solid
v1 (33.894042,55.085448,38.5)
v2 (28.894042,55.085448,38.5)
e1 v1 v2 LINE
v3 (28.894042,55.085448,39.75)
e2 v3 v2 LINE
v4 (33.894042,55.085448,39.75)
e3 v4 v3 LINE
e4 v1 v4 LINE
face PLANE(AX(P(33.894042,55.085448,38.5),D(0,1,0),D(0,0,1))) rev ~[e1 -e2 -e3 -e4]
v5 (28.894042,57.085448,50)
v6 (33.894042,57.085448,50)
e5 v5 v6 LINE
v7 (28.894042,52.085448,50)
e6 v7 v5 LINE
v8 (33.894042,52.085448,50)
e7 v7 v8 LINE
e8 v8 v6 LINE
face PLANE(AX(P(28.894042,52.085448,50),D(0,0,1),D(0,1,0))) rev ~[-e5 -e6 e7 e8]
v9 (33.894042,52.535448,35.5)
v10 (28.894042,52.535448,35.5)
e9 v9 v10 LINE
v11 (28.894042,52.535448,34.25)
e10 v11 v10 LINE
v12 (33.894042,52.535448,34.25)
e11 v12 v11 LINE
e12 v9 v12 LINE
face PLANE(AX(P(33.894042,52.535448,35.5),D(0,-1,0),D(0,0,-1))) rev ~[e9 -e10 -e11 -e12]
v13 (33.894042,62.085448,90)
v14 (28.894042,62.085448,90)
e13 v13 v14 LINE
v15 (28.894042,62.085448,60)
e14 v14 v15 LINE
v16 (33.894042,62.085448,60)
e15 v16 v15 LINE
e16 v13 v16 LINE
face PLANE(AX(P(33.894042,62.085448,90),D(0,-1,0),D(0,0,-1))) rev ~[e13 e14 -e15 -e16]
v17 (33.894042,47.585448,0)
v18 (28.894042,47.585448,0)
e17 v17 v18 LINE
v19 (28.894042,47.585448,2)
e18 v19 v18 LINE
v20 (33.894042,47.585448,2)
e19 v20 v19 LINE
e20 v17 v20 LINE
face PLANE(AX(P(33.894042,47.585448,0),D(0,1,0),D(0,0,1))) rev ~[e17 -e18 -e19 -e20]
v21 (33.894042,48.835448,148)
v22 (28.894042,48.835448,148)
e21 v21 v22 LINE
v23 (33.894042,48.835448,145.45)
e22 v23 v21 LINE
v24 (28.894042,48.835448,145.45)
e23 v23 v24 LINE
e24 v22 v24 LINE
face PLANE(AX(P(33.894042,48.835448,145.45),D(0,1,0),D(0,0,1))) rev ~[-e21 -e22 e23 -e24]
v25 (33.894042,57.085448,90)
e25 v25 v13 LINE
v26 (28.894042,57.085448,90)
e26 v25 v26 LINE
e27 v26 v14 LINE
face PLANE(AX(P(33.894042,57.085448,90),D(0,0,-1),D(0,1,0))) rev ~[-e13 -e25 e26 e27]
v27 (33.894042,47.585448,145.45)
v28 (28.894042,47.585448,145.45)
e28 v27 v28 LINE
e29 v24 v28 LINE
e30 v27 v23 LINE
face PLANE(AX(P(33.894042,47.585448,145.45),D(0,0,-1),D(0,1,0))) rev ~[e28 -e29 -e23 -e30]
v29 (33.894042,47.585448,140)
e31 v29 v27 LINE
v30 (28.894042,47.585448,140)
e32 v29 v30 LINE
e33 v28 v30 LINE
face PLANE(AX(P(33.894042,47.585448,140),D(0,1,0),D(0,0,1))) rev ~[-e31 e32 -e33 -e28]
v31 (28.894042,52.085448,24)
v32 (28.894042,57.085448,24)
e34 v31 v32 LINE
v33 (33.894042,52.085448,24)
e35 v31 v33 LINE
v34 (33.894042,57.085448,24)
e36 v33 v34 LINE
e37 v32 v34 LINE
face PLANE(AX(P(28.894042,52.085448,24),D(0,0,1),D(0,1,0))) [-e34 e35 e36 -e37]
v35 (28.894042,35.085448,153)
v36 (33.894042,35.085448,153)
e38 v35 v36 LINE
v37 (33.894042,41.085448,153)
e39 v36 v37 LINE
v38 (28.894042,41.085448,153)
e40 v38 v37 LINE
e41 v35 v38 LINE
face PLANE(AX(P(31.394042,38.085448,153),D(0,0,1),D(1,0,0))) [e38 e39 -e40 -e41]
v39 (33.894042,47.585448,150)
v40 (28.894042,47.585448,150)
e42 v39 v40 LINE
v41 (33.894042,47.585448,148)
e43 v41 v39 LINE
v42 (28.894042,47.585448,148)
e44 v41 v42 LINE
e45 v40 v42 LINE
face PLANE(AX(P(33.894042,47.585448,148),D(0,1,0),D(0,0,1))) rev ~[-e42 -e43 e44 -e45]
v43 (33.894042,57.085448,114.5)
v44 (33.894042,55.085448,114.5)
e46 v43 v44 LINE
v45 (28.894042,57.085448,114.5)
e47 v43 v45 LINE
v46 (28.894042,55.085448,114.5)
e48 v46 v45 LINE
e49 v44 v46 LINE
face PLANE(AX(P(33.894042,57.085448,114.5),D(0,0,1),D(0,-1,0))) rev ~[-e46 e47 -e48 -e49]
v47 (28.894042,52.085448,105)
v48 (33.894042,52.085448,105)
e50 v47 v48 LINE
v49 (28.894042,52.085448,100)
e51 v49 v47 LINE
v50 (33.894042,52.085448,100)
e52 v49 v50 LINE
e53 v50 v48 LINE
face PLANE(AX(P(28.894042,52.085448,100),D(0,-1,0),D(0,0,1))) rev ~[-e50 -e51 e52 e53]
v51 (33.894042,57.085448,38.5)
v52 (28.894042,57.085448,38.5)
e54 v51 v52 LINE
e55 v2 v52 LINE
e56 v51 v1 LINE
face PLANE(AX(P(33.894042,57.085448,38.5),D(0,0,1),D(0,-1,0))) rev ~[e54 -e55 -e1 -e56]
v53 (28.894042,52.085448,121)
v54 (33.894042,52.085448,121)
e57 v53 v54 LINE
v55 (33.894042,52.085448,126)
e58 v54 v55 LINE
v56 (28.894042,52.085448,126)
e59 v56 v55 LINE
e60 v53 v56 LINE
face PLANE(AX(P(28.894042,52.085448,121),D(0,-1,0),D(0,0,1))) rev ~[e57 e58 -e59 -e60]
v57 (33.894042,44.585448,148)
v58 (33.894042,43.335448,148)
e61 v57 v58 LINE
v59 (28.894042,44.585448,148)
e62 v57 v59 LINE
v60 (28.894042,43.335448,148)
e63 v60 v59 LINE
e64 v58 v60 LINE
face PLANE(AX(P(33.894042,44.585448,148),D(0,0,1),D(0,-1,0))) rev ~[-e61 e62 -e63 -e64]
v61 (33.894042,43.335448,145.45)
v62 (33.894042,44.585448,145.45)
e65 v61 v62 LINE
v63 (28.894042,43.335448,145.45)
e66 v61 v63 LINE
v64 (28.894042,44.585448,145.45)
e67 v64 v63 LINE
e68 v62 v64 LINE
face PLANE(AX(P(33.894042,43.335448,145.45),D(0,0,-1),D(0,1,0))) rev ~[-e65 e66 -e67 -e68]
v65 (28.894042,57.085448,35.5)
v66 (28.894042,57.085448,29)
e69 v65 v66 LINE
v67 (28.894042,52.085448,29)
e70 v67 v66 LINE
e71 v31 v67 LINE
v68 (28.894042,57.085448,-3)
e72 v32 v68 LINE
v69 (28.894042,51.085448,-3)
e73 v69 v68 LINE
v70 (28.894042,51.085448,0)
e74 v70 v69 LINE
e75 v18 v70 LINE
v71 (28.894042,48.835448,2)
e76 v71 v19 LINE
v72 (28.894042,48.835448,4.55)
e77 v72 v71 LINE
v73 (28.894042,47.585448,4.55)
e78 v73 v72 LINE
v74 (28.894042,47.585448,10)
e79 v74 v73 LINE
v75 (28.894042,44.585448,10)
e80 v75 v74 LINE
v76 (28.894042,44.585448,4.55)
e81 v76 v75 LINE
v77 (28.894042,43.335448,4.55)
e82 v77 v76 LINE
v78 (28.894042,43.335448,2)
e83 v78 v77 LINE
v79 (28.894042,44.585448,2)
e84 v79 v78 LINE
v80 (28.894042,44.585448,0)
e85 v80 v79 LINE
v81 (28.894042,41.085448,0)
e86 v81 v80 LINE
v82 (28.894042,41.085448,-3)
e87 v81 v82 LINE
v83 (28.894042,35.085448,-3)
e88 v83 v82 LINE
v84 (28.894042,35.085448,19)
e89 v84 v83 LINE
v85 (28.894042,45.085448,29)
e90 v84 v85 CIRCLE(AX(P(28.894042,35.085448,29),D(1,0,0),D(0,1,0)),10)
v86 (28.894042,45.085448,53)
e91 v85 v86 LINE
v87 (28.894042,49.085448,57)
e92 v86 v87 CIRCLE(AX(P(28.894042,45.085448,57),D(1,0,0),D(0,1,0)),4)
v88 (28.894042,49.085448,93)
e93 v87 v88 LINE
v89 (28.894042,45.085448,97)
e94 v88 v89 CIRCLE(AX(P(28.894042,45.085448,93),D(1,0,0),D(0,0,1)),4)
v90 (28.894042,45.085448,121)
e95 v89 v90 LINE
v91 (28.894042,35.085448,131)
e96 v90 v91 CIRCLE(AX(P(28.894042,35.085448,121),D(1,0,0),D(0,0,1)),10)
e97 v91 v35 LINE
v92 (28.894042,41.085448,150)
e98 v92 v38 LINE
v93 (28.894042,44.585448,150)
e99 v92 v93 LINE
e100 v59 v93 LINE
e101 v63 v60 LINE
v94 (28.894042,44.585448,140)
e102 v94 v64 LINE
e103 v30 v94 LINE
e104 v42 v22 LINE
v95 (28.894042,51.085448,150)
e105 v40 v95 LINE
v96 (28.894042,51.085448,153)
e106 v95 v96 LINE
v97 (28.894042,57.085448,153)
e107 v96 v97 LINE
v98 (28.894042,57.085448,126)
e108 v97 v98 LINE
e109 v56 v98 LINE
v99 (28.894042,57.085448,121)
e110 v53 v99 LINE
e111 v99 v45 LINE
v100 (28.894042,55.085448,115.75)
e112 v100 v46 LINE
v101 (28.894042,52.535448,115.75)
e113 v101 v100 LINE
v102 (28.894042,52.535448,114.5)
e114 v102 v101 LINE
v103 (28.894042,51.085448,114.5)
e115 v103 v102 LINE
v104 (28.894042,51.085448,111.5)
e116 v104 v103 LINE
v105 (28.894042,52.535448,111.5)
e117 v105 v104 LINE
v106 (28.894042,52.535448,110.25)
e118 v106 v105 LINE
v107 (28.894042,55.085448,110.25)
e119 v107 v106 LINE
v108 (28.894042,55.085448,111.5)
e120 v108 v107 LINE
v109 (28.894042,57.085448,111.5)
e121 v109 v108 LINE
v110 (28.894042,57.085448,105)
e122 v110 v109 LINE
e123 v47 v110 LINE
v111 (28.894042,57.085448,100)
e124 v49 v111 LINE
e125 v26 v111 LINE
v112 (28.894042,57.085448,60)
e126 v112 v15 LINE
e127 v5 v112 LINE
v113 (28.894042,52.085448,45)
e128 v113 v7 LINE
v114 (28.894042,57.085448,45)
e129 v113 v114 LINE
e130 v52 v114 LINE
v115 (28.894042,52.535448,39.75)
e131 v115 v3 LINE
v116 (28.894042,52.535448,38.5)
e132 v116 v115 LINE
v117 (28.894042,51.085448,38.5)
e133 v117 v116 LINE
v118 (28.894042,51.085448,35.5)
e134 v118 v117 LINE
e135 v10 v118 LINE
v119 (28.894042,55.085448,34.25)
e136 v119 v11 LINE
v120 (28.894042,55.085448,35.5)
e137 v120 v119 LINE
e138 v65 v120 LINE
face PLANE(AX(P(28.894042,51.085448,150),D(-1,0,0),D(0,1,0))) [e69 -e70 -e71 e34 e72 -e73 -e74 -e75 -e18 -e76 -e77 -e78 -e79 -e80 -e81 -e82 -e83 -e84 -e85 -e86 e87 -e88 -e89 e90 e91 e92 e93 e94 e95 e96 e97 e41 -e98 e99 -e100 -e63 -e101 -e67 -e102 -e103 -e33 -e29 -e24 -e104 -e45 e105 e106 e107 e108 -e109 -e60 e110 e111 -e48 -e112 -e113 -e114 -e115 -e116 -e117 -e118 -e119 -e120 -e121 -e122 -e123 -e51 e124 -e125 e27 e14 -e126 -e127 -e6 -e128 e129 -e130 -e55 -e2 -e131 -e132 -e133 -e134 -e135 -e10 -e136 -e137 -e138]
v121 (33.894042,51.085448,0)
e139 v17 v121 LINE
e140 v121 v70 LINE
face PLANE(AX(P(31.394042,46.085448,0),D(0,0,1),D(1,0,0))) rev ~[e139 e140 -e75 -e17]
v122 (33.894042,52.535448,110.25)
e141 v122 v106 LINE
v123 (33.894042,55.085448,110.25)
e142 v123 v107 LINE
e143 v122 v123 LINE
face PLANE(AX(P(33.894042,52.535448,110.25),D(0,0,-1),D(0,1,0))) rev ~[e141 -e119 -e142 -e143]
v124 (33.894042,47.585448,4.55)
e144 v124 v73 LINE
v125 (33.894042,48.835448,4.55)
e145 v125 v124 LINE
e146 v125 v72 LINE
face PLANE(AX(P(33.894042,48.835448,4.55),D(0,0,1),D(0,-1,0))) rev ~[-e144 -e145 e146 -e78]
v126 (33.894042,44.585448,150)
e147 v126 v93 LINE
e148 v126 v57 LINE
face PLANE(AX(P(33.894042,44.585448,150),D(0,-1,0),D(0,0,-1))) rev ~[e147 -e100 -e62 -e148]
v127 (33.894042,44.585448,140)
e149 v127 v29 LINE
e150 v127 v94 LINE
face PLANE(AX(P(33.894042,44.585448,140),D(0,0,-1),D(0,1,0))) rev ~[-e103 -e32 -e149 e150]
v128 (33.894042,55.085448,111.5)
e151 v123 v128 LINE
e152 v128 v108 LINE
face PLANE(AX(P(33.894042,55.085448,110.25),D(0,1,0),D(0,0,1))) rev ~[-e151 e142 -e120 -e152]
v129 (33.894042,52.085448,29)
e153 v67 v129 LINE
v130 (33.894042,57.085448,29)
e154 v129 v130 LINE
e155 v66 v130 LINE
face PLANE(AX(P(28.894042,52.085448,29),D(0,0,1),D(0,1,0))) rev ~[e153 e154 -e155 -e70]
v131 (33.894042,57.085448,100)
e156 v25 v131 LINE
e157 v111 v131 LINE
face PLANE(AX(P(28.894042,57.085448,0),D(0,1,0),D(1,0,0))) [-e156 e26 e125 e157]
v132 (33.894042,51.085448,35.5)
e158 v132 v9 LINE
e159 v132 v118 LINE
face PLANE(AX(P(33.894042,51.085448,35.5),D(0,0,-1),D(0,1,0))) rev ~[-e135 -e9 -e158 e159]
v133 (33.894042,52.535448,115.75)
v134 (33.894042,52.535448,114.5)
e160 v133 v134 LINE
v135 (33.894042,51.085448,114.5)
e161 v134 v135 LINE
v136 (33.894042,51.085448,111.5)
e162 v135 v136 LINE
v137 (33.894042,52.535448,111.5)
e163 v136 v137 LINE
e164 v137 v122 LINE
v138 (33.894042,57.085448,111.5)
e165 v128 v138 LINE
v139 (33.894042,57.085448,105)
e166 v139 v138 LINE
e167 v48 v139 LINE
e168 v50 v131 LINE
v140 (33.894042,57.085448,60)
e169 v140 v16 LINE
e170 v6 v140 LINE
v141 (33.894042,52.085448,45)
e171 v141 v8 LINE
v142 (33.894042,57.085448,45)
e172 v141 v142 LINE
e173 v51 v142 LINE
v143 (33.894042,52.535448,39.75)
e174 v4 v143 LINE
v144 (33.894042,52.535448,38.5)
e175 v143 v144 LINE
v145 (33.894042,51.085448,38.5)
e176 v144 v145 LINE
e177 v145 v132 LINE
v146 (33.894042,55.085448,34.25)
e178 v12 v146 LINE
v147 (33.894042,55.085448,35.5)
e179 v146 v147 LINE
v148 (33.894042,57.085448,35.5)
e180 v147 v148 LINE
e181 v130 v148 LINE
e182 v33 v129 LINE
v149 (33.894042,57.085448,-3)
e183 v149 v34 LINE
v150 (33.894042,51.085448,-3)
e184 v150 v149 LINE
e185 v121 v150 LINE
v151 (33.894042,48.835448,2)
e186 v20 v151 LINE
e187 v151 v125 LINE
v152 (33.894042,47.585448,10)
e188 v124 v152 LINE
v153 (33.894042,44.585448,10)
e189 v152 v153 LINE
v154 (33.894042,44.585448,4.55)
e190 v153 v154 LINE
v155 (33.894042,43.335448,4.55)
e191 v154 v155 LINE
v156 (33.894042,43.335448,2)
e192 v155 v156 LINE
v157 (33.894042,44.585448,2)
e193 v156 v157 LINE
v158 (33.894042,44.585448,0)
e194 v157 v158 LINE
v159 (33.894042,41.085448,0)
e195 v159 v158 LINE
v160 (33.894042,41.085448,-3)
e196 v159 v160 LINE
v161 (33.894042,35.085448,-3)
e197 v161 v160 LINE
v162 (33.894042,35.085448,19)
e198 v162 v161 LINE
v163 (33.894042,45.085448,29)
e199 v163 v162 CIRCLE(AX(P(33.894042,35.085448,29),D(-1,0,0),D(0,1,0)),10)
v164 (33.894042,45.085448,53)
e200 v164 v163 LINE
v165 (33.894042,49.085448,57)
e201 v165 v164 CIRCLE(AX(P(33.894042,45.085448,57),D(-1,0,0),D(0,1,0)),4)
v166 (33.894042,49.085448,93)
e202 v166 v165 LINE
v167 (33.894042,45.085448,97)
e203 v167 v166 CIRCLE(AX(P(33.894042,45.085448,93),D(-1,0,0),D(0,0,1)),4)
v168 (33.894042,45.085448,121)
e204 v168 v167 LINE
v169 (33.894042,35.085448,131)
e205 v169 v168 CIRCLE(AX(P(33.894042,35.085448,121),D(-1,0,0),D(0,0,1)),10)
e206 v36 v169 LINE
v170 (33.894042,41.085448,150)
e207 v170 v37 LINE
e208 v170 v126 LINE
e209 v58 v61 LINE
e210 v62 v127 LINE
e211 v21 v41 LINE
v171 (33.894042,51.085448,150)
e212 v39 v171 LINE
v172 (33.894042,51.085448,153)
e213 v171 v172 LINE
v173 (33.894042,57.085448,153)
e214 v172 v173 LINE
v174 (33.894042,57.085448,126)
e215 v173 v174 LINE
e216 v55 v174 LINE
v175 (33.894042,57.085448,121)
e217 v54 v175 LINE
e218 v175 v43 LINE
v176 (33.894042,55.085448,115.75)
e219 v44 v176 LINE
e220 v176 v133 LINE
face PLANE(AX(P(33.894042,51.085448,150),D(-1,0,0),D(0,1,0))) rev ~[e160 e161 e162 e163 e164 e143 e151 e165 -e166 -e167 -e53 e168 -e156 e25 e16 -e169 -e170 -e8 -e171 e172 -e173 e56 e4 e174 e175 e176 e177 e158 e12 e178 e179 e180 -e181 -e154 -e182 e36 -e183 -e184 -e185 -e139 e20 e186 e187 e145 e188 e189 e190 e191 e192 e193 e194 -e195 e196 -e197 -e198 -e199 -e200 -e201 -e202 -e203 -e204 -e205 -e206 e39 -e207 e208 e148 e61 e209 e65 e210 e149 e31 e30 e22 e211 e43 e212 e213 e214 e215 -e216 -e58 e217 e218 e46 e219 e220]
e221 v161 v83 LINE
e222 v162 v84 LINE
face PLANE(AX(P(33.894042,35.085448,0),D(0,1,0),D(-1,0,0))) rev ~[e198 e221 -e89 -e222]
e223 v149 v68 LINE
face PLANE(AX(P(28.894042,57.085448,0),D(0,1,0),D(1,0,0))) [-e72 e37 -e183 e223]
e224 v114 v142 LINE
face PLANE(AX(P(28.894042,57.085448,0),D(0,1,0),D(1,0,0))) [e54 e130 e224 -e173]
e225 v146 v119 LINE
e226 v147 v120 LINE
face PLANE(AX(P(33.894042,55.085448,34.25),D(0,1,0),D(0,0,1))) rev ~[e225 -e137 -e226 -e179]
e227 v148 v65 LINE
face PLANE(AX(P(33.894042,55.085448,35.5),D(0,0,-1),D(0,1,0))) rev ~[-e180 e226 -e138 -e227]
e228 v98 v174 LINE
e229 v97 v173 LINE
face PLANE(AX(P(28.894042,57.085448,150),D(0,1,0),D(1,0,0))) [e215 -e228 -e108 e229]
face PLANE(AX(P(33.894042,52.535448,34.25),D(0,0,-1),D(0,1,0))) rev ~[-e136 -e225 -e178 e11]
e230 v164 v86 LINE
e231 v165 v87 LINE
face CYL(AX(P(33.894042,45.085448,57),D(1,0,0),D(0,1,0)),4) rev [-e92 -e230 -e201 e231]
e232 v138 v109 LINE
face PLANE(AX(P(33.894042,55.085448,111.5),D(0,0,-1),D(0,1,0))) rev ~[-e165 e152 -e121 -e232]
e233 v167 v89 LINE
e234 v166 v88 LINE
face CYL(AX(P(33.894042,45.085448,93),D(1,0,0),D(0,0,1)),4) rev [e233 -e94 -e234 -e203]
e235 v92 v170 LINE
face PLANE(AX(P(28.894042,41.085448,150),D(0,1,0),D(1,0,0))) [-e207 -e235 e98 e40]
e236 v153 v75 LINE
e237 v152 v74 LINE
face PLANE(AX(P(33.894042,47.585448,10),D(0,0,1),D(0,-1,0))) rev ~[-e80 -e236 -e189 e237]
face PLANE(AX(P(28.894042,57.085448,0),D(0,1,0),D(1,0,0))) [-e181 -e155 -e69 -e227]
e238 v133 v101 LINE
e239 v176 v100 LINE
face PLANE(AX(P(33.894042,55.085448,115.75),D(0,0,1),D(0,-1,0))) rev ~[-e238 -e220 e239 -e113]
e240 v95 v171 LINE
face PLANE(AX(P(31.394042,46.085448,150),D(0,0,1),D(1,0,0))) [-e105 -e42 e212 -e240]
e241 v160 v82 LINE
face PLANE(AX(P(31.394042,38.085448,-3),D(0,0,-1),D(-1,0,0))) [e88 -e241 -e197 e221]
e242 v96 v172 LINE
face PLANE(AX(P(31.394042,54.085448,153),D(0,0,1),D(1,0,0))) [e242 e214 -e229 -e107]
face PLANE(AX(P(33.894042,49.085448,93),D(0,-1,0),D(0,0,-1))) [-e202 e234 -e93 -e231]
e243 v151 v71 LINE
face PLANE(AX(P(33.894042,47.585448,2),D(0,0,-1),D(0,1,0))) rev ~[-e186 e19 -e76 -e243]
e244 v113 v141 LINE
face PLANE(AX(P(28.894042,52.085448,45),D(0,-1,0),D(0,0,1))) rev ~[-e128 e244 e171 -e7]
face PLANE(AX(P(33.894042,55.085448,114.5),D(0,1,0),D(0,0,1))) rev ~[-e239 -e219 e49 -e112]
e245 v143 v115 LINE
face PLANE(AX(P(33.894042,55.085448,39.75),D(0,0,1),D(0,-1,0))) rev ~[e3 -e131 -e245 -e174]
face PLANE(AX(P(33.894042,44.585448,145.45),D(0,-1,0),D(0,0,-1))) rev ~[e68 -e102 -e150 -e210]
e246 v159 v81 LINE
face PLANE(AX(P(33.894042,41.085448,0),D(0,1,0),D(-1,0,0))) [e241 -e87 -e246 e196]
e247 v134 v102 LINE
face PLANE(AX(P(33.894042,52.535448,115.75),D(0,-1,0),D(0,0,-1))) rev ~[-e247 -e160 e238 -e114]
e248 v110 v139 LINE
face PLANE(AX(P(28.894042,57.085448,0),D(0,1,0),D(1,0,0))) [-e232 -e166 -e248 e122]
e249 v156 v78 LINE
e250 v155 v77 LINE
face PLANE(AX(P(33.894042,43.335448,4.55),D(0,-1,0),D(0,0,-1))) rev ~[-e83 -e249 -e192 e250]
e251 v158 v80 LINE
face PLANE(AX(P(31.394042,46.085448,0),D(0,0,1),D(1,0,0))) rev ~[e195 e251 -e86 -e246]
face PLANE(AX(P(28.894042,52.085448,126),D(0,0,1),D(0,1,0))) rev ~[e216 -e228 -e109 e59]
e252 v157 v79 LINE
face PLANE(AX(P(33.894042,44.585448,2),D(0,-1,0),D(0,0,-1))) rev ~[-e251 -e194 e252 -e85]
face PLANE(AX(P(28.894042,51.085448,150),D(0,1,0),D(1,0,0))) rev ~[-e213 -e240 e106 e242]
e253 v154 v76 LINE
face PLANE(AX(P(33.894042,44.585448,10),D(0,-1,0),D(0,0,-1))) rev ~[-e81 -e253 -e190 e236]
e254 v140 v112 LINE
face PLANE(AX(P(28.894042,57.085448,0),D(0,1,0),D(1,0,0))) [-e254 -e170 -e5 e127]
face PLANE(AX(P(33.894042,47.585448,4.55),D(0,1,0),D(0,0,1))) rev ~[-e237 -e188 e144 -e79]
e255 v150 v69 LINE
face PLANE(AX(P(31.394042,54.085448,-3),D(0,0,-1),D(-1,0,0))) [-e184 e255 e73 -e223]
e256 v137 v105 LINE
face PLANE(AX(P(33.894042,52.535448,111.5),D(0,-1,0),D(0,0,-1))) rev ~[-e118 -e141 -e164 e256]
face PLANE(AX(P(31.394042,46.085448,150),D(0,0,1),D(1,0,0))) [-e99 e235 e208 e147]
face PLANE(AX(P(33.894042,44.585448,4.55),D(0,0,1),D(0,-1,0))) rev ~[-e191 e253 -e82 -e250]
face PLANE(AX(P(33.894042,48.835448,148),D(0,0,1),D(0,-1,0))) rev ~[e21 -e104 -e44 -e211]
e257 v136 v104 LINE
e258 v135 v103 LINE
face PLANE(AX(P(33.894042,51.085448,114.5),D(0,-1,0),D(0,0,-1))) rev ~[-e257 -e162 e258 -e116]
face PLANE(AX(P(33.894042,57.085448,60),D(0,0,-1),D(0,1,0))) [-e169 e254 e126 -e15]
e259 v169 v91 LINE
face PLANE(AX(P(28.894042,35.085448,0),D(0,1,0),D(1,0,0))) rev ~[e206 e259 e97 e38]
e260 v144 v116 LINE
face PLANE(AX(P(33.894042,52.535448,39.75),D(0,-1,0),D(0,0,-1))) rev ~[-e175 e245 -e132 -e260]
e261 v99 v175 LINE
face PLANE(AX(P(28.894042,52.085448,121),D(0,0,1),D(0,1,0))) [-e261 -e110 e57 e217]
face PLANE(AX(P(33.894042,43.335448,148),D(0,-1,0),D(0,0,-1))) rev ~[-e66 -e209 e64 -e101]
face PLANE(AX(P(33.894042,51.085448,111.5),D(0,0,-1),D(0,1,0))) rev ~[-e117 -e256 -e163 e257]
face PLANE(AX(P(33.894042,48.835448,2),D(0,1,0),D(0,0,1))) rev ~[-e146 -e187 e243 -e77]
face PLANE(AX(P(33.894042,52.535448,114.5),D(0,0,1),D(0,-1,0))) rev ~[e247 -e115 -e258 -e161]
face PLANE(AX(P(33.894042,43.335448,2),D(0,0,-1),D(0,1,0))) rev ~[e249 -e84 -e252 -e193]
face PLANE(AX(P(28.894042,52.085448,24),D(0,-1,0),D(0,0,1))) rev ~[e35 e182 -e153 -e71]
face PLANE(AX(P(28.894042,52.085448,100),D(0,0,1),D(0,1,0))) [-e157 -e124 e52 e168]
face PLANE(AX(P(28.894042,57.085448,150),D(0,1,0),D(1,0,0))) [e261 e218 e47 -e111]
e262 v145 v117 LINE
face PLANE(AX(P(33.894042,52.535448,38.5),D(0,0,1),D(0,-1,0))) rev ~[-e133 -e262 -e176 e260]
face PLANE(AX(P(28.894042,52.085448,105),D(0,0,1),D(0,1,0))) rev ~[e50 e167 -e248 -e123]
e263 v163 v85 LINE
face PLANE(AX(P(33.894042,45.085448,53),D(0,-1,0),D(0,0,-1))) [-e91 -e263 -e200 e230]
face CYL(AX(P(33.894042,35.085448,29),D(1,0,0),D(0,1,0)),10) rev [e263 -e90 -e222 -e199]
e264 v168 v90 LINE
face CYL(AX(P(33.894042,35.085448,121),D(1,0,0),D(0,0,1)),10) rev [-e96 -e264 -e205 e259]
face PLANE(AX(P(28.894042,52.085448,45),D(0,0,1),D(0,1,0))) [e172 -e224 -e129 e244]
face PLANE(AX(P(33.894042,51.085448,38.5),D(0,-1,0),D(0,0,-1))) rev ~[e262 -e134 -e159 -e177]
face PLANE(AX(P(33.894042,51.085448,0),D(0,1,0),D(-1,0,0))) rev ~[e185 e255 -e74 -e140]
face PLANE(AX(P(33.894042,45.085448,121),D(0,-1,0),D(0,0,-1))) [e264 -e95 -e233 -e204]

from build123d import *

# Parameters (mm, degrees)
SKETCH1_W           = 5
SKETCH1_H           = 22
BOSS_EXTRUDE1_DEPTH = 150
CUT_EXTRUDE1_DEPTH  = 161.573187019
CUT_EXTRUDE2_DEPTH  = 161.573187019
SKETCH4_W           = 5
SKETCH4_H           = 6
BOSS_EXTRUDE2_DEPTH = 3
SKETCH5_W           = 5
SKETCH5_H           = 6
BOSS_EXTRUDE3_DEPTH = 3
SKETCH6_W           = 30
SKETCH6_H           = 5
BOSS_EXTRUDE4_DEPTH = 5
SKETCH7_W           = 5
SKETCH7_H           = 5
CUT_EXTRUDE3_DEPTH  = 166.192623536
SKETCH8_W           = 5
SKETCH8_H           = 5
CUT_EXTRUDE4_DEPTH  = 166.192623536


with BuildPart() as part:
    # Sketch1 → Boss-Extrude1 (new body)
    with BuildSketch(Plane.XY):
        with Locations((31.394042166, 46.08544814)):
            Rectangle(SKETCH1_W, SKETCH1_H)
    extrude(amount=BOSS_EXTRUDE1_DEPTH)

    # Sketch2 → Cut-Extrude1 (cut, through all)
    with BuildSketch(Plane(origin=(33.894042166, 0, 0), x_dir=(0, 0, -1), z_dir=(1, 0, 0))):
        with BuildLine():
            Line((-93, 49.08544814), (-57, 49.08544814))
            ThreePointArc((-57, 49.08544814), (-54.171572875, 47.913875265), (-53, 45.08544814))
            Line((-53, 45.08544814), (-29, 45.08544814))
            ThreePointArc((-29, 45.08544814), (-21.928932188, 42.156515952), (-19, 35.08544814))
            Line((-19, 35.08544814), (-131, 35.08544814))
            ThreePointArc((-131, 35.08544814), (-128.071067812, 42.156515952), (-121, 45.08544814))
            Line((-121, 45.08544814), (-97, 45.08544814))
            ThreePointArc((-97, 45.08544814), (-95.828427125, 47.913875265), (-93, 49.08544814))
        make_face()
    extrude(amount=-CUT_EXTRUDE1_DEPTH, mode=Mode.SUBTRACT)

    # Sketch3 → Cut-Extrude2 (cut, through all)
    with BuildSketch(Plane(origin=(33.894042166, 0, 0), x_dir=(0, 0, -1), z_dir=(1, 0, 0))):
        Polygon((-38.5, 51.08544814), (-35.5, 51.08544814), (-35.5, 52.53544814), (-34.25, 52.53544814), (-34.25, 55.08544814), (-35.5, 55.08544814), (-35.5, 57.08544814), (-38.5, 57.08544814), (-38.5, 55.08544814), (-39.75, 55.08544814), (-39.75, 52.53544814), (-38.5, 52.53544814), align=None)
        Polygon((-111.5, 57.08544814), (-114.5, 57.08544814), (-114.5, 55.08544814), (-115.75, 55.08544814), (-115.75, 52.53544814), (-114.5, 52.53544814), (-114.5, 51.08544814), (-111.5, 51.08544814), (-111.5, 52.53544814), (-110.25, 52.53544814), (-110.25, 55.08544814), (-111.5, 55.08544814), align=None)
        Polygon((-10, 44.58544814), (-4.55, 44.58544814), (-4.55, 43.33544814), (-2, 43.33544814), (-2, 44.58544814), (0, 44.58544814), (0, 47.58544814), (-2, 47.58544814), (-2, 48.83544814), (-4.55, 48.83544814), (-4.55, 47.58544814), (-10, 47.58544814), align=None)
        Polygon((-145.45, 47.58544814), (-145.45, 48.83544814), (-148, 48.83544814), (-148, 47.58544814), (-150, 47.58544814), (-150, 44.58544814), (-148, 44.58544814), (-148, 43.33544814), (-145.45, 43.33544814), (-145.45, 44.58544814), (-140, 44.58544814), (-140, 47.58544814), align=None)
    extrude(amount=-CUT_EXTRUDE2_DEPTH, mode=Mode.SUBTRACT)

    # Sketch4 → Boss-Extrude2 (add)
    with BuildSketch(Plane(origin=(0, 0, 0), x_dir=(-1, 0, 0), z_dir=(0, 0, -1))):
        with Locations((-31.394042166, 38.08544814)):
            Rectangle(SKETCH4_W, SKETCH4_H)
        with Locations((-31.394042166, 54.08544814)):
            Rectangle(SKETCH4_W, SKETCH4_H)
    extrude(amount=BOSS_EXTRUDE2_DEPTH)

    # Sketch5 → Boss-Extrude3 (add)
    with BuildSketch(Plane.XY.offset(150)):
        with Locations((31.394042166, 54.08544814)):
            Rectangle(SKETCH5_W, SKETCH5_H)
        with Locations((31.394042166, 38.08544814)):
            Rectangle(SKETCH5_W, SKETCH5_H)
    extrude(amount=BOSS_EXTRUDE3_DEPTH)

    # Sketch6 → Boss-Extrude4 (add)
    with BuildSketch(Plane(origin=(33.894042166, 0, 0), x_dir=(0, 0, -1), z_dir=(1, 0, 0))):
        with Locations((-75, 59.58544814)):
            Rectangle(SKETCH6_W, SKETCH6_H)
    extrude(amount=-BOSS_EXTRUDE4_DEPTH)

    # Sketch7 → Cut-Extrude3 (cut, through all)
    with BuildSketch(Plane.ZY.offset(-28.894042166)):
        with Locations((123.5, 54.58544814)):
            Rectangle(SKETCH7_W, SKETCH7_H)
        with Locations((26.5, 54.58544814)):
            Rectangle(SKETCH7_W, SKETCH7_H)
    extrude(amount=-CUT_EXTRUDE3_DEPTH, mode=Mode.SUBTRACT)

    # Sketch8 → Cut-Extrude4 (cut, through all)
    with BuildSketch(Plane.ZY.offset(-28.894042166)):
        with Locations((47.5, 54.58544814)):
            Rectangle(SKETCH8_W, SKETCH8_H)
        with Locations((102.5, 54.58544814)):
            Rectangle(SKETCH8_W, SKETCH8_H)
    extrude(amount=-CUT_EXTRUDE4_DEPTH, mode=Mode.SUBTRACT)


solid = part.part
